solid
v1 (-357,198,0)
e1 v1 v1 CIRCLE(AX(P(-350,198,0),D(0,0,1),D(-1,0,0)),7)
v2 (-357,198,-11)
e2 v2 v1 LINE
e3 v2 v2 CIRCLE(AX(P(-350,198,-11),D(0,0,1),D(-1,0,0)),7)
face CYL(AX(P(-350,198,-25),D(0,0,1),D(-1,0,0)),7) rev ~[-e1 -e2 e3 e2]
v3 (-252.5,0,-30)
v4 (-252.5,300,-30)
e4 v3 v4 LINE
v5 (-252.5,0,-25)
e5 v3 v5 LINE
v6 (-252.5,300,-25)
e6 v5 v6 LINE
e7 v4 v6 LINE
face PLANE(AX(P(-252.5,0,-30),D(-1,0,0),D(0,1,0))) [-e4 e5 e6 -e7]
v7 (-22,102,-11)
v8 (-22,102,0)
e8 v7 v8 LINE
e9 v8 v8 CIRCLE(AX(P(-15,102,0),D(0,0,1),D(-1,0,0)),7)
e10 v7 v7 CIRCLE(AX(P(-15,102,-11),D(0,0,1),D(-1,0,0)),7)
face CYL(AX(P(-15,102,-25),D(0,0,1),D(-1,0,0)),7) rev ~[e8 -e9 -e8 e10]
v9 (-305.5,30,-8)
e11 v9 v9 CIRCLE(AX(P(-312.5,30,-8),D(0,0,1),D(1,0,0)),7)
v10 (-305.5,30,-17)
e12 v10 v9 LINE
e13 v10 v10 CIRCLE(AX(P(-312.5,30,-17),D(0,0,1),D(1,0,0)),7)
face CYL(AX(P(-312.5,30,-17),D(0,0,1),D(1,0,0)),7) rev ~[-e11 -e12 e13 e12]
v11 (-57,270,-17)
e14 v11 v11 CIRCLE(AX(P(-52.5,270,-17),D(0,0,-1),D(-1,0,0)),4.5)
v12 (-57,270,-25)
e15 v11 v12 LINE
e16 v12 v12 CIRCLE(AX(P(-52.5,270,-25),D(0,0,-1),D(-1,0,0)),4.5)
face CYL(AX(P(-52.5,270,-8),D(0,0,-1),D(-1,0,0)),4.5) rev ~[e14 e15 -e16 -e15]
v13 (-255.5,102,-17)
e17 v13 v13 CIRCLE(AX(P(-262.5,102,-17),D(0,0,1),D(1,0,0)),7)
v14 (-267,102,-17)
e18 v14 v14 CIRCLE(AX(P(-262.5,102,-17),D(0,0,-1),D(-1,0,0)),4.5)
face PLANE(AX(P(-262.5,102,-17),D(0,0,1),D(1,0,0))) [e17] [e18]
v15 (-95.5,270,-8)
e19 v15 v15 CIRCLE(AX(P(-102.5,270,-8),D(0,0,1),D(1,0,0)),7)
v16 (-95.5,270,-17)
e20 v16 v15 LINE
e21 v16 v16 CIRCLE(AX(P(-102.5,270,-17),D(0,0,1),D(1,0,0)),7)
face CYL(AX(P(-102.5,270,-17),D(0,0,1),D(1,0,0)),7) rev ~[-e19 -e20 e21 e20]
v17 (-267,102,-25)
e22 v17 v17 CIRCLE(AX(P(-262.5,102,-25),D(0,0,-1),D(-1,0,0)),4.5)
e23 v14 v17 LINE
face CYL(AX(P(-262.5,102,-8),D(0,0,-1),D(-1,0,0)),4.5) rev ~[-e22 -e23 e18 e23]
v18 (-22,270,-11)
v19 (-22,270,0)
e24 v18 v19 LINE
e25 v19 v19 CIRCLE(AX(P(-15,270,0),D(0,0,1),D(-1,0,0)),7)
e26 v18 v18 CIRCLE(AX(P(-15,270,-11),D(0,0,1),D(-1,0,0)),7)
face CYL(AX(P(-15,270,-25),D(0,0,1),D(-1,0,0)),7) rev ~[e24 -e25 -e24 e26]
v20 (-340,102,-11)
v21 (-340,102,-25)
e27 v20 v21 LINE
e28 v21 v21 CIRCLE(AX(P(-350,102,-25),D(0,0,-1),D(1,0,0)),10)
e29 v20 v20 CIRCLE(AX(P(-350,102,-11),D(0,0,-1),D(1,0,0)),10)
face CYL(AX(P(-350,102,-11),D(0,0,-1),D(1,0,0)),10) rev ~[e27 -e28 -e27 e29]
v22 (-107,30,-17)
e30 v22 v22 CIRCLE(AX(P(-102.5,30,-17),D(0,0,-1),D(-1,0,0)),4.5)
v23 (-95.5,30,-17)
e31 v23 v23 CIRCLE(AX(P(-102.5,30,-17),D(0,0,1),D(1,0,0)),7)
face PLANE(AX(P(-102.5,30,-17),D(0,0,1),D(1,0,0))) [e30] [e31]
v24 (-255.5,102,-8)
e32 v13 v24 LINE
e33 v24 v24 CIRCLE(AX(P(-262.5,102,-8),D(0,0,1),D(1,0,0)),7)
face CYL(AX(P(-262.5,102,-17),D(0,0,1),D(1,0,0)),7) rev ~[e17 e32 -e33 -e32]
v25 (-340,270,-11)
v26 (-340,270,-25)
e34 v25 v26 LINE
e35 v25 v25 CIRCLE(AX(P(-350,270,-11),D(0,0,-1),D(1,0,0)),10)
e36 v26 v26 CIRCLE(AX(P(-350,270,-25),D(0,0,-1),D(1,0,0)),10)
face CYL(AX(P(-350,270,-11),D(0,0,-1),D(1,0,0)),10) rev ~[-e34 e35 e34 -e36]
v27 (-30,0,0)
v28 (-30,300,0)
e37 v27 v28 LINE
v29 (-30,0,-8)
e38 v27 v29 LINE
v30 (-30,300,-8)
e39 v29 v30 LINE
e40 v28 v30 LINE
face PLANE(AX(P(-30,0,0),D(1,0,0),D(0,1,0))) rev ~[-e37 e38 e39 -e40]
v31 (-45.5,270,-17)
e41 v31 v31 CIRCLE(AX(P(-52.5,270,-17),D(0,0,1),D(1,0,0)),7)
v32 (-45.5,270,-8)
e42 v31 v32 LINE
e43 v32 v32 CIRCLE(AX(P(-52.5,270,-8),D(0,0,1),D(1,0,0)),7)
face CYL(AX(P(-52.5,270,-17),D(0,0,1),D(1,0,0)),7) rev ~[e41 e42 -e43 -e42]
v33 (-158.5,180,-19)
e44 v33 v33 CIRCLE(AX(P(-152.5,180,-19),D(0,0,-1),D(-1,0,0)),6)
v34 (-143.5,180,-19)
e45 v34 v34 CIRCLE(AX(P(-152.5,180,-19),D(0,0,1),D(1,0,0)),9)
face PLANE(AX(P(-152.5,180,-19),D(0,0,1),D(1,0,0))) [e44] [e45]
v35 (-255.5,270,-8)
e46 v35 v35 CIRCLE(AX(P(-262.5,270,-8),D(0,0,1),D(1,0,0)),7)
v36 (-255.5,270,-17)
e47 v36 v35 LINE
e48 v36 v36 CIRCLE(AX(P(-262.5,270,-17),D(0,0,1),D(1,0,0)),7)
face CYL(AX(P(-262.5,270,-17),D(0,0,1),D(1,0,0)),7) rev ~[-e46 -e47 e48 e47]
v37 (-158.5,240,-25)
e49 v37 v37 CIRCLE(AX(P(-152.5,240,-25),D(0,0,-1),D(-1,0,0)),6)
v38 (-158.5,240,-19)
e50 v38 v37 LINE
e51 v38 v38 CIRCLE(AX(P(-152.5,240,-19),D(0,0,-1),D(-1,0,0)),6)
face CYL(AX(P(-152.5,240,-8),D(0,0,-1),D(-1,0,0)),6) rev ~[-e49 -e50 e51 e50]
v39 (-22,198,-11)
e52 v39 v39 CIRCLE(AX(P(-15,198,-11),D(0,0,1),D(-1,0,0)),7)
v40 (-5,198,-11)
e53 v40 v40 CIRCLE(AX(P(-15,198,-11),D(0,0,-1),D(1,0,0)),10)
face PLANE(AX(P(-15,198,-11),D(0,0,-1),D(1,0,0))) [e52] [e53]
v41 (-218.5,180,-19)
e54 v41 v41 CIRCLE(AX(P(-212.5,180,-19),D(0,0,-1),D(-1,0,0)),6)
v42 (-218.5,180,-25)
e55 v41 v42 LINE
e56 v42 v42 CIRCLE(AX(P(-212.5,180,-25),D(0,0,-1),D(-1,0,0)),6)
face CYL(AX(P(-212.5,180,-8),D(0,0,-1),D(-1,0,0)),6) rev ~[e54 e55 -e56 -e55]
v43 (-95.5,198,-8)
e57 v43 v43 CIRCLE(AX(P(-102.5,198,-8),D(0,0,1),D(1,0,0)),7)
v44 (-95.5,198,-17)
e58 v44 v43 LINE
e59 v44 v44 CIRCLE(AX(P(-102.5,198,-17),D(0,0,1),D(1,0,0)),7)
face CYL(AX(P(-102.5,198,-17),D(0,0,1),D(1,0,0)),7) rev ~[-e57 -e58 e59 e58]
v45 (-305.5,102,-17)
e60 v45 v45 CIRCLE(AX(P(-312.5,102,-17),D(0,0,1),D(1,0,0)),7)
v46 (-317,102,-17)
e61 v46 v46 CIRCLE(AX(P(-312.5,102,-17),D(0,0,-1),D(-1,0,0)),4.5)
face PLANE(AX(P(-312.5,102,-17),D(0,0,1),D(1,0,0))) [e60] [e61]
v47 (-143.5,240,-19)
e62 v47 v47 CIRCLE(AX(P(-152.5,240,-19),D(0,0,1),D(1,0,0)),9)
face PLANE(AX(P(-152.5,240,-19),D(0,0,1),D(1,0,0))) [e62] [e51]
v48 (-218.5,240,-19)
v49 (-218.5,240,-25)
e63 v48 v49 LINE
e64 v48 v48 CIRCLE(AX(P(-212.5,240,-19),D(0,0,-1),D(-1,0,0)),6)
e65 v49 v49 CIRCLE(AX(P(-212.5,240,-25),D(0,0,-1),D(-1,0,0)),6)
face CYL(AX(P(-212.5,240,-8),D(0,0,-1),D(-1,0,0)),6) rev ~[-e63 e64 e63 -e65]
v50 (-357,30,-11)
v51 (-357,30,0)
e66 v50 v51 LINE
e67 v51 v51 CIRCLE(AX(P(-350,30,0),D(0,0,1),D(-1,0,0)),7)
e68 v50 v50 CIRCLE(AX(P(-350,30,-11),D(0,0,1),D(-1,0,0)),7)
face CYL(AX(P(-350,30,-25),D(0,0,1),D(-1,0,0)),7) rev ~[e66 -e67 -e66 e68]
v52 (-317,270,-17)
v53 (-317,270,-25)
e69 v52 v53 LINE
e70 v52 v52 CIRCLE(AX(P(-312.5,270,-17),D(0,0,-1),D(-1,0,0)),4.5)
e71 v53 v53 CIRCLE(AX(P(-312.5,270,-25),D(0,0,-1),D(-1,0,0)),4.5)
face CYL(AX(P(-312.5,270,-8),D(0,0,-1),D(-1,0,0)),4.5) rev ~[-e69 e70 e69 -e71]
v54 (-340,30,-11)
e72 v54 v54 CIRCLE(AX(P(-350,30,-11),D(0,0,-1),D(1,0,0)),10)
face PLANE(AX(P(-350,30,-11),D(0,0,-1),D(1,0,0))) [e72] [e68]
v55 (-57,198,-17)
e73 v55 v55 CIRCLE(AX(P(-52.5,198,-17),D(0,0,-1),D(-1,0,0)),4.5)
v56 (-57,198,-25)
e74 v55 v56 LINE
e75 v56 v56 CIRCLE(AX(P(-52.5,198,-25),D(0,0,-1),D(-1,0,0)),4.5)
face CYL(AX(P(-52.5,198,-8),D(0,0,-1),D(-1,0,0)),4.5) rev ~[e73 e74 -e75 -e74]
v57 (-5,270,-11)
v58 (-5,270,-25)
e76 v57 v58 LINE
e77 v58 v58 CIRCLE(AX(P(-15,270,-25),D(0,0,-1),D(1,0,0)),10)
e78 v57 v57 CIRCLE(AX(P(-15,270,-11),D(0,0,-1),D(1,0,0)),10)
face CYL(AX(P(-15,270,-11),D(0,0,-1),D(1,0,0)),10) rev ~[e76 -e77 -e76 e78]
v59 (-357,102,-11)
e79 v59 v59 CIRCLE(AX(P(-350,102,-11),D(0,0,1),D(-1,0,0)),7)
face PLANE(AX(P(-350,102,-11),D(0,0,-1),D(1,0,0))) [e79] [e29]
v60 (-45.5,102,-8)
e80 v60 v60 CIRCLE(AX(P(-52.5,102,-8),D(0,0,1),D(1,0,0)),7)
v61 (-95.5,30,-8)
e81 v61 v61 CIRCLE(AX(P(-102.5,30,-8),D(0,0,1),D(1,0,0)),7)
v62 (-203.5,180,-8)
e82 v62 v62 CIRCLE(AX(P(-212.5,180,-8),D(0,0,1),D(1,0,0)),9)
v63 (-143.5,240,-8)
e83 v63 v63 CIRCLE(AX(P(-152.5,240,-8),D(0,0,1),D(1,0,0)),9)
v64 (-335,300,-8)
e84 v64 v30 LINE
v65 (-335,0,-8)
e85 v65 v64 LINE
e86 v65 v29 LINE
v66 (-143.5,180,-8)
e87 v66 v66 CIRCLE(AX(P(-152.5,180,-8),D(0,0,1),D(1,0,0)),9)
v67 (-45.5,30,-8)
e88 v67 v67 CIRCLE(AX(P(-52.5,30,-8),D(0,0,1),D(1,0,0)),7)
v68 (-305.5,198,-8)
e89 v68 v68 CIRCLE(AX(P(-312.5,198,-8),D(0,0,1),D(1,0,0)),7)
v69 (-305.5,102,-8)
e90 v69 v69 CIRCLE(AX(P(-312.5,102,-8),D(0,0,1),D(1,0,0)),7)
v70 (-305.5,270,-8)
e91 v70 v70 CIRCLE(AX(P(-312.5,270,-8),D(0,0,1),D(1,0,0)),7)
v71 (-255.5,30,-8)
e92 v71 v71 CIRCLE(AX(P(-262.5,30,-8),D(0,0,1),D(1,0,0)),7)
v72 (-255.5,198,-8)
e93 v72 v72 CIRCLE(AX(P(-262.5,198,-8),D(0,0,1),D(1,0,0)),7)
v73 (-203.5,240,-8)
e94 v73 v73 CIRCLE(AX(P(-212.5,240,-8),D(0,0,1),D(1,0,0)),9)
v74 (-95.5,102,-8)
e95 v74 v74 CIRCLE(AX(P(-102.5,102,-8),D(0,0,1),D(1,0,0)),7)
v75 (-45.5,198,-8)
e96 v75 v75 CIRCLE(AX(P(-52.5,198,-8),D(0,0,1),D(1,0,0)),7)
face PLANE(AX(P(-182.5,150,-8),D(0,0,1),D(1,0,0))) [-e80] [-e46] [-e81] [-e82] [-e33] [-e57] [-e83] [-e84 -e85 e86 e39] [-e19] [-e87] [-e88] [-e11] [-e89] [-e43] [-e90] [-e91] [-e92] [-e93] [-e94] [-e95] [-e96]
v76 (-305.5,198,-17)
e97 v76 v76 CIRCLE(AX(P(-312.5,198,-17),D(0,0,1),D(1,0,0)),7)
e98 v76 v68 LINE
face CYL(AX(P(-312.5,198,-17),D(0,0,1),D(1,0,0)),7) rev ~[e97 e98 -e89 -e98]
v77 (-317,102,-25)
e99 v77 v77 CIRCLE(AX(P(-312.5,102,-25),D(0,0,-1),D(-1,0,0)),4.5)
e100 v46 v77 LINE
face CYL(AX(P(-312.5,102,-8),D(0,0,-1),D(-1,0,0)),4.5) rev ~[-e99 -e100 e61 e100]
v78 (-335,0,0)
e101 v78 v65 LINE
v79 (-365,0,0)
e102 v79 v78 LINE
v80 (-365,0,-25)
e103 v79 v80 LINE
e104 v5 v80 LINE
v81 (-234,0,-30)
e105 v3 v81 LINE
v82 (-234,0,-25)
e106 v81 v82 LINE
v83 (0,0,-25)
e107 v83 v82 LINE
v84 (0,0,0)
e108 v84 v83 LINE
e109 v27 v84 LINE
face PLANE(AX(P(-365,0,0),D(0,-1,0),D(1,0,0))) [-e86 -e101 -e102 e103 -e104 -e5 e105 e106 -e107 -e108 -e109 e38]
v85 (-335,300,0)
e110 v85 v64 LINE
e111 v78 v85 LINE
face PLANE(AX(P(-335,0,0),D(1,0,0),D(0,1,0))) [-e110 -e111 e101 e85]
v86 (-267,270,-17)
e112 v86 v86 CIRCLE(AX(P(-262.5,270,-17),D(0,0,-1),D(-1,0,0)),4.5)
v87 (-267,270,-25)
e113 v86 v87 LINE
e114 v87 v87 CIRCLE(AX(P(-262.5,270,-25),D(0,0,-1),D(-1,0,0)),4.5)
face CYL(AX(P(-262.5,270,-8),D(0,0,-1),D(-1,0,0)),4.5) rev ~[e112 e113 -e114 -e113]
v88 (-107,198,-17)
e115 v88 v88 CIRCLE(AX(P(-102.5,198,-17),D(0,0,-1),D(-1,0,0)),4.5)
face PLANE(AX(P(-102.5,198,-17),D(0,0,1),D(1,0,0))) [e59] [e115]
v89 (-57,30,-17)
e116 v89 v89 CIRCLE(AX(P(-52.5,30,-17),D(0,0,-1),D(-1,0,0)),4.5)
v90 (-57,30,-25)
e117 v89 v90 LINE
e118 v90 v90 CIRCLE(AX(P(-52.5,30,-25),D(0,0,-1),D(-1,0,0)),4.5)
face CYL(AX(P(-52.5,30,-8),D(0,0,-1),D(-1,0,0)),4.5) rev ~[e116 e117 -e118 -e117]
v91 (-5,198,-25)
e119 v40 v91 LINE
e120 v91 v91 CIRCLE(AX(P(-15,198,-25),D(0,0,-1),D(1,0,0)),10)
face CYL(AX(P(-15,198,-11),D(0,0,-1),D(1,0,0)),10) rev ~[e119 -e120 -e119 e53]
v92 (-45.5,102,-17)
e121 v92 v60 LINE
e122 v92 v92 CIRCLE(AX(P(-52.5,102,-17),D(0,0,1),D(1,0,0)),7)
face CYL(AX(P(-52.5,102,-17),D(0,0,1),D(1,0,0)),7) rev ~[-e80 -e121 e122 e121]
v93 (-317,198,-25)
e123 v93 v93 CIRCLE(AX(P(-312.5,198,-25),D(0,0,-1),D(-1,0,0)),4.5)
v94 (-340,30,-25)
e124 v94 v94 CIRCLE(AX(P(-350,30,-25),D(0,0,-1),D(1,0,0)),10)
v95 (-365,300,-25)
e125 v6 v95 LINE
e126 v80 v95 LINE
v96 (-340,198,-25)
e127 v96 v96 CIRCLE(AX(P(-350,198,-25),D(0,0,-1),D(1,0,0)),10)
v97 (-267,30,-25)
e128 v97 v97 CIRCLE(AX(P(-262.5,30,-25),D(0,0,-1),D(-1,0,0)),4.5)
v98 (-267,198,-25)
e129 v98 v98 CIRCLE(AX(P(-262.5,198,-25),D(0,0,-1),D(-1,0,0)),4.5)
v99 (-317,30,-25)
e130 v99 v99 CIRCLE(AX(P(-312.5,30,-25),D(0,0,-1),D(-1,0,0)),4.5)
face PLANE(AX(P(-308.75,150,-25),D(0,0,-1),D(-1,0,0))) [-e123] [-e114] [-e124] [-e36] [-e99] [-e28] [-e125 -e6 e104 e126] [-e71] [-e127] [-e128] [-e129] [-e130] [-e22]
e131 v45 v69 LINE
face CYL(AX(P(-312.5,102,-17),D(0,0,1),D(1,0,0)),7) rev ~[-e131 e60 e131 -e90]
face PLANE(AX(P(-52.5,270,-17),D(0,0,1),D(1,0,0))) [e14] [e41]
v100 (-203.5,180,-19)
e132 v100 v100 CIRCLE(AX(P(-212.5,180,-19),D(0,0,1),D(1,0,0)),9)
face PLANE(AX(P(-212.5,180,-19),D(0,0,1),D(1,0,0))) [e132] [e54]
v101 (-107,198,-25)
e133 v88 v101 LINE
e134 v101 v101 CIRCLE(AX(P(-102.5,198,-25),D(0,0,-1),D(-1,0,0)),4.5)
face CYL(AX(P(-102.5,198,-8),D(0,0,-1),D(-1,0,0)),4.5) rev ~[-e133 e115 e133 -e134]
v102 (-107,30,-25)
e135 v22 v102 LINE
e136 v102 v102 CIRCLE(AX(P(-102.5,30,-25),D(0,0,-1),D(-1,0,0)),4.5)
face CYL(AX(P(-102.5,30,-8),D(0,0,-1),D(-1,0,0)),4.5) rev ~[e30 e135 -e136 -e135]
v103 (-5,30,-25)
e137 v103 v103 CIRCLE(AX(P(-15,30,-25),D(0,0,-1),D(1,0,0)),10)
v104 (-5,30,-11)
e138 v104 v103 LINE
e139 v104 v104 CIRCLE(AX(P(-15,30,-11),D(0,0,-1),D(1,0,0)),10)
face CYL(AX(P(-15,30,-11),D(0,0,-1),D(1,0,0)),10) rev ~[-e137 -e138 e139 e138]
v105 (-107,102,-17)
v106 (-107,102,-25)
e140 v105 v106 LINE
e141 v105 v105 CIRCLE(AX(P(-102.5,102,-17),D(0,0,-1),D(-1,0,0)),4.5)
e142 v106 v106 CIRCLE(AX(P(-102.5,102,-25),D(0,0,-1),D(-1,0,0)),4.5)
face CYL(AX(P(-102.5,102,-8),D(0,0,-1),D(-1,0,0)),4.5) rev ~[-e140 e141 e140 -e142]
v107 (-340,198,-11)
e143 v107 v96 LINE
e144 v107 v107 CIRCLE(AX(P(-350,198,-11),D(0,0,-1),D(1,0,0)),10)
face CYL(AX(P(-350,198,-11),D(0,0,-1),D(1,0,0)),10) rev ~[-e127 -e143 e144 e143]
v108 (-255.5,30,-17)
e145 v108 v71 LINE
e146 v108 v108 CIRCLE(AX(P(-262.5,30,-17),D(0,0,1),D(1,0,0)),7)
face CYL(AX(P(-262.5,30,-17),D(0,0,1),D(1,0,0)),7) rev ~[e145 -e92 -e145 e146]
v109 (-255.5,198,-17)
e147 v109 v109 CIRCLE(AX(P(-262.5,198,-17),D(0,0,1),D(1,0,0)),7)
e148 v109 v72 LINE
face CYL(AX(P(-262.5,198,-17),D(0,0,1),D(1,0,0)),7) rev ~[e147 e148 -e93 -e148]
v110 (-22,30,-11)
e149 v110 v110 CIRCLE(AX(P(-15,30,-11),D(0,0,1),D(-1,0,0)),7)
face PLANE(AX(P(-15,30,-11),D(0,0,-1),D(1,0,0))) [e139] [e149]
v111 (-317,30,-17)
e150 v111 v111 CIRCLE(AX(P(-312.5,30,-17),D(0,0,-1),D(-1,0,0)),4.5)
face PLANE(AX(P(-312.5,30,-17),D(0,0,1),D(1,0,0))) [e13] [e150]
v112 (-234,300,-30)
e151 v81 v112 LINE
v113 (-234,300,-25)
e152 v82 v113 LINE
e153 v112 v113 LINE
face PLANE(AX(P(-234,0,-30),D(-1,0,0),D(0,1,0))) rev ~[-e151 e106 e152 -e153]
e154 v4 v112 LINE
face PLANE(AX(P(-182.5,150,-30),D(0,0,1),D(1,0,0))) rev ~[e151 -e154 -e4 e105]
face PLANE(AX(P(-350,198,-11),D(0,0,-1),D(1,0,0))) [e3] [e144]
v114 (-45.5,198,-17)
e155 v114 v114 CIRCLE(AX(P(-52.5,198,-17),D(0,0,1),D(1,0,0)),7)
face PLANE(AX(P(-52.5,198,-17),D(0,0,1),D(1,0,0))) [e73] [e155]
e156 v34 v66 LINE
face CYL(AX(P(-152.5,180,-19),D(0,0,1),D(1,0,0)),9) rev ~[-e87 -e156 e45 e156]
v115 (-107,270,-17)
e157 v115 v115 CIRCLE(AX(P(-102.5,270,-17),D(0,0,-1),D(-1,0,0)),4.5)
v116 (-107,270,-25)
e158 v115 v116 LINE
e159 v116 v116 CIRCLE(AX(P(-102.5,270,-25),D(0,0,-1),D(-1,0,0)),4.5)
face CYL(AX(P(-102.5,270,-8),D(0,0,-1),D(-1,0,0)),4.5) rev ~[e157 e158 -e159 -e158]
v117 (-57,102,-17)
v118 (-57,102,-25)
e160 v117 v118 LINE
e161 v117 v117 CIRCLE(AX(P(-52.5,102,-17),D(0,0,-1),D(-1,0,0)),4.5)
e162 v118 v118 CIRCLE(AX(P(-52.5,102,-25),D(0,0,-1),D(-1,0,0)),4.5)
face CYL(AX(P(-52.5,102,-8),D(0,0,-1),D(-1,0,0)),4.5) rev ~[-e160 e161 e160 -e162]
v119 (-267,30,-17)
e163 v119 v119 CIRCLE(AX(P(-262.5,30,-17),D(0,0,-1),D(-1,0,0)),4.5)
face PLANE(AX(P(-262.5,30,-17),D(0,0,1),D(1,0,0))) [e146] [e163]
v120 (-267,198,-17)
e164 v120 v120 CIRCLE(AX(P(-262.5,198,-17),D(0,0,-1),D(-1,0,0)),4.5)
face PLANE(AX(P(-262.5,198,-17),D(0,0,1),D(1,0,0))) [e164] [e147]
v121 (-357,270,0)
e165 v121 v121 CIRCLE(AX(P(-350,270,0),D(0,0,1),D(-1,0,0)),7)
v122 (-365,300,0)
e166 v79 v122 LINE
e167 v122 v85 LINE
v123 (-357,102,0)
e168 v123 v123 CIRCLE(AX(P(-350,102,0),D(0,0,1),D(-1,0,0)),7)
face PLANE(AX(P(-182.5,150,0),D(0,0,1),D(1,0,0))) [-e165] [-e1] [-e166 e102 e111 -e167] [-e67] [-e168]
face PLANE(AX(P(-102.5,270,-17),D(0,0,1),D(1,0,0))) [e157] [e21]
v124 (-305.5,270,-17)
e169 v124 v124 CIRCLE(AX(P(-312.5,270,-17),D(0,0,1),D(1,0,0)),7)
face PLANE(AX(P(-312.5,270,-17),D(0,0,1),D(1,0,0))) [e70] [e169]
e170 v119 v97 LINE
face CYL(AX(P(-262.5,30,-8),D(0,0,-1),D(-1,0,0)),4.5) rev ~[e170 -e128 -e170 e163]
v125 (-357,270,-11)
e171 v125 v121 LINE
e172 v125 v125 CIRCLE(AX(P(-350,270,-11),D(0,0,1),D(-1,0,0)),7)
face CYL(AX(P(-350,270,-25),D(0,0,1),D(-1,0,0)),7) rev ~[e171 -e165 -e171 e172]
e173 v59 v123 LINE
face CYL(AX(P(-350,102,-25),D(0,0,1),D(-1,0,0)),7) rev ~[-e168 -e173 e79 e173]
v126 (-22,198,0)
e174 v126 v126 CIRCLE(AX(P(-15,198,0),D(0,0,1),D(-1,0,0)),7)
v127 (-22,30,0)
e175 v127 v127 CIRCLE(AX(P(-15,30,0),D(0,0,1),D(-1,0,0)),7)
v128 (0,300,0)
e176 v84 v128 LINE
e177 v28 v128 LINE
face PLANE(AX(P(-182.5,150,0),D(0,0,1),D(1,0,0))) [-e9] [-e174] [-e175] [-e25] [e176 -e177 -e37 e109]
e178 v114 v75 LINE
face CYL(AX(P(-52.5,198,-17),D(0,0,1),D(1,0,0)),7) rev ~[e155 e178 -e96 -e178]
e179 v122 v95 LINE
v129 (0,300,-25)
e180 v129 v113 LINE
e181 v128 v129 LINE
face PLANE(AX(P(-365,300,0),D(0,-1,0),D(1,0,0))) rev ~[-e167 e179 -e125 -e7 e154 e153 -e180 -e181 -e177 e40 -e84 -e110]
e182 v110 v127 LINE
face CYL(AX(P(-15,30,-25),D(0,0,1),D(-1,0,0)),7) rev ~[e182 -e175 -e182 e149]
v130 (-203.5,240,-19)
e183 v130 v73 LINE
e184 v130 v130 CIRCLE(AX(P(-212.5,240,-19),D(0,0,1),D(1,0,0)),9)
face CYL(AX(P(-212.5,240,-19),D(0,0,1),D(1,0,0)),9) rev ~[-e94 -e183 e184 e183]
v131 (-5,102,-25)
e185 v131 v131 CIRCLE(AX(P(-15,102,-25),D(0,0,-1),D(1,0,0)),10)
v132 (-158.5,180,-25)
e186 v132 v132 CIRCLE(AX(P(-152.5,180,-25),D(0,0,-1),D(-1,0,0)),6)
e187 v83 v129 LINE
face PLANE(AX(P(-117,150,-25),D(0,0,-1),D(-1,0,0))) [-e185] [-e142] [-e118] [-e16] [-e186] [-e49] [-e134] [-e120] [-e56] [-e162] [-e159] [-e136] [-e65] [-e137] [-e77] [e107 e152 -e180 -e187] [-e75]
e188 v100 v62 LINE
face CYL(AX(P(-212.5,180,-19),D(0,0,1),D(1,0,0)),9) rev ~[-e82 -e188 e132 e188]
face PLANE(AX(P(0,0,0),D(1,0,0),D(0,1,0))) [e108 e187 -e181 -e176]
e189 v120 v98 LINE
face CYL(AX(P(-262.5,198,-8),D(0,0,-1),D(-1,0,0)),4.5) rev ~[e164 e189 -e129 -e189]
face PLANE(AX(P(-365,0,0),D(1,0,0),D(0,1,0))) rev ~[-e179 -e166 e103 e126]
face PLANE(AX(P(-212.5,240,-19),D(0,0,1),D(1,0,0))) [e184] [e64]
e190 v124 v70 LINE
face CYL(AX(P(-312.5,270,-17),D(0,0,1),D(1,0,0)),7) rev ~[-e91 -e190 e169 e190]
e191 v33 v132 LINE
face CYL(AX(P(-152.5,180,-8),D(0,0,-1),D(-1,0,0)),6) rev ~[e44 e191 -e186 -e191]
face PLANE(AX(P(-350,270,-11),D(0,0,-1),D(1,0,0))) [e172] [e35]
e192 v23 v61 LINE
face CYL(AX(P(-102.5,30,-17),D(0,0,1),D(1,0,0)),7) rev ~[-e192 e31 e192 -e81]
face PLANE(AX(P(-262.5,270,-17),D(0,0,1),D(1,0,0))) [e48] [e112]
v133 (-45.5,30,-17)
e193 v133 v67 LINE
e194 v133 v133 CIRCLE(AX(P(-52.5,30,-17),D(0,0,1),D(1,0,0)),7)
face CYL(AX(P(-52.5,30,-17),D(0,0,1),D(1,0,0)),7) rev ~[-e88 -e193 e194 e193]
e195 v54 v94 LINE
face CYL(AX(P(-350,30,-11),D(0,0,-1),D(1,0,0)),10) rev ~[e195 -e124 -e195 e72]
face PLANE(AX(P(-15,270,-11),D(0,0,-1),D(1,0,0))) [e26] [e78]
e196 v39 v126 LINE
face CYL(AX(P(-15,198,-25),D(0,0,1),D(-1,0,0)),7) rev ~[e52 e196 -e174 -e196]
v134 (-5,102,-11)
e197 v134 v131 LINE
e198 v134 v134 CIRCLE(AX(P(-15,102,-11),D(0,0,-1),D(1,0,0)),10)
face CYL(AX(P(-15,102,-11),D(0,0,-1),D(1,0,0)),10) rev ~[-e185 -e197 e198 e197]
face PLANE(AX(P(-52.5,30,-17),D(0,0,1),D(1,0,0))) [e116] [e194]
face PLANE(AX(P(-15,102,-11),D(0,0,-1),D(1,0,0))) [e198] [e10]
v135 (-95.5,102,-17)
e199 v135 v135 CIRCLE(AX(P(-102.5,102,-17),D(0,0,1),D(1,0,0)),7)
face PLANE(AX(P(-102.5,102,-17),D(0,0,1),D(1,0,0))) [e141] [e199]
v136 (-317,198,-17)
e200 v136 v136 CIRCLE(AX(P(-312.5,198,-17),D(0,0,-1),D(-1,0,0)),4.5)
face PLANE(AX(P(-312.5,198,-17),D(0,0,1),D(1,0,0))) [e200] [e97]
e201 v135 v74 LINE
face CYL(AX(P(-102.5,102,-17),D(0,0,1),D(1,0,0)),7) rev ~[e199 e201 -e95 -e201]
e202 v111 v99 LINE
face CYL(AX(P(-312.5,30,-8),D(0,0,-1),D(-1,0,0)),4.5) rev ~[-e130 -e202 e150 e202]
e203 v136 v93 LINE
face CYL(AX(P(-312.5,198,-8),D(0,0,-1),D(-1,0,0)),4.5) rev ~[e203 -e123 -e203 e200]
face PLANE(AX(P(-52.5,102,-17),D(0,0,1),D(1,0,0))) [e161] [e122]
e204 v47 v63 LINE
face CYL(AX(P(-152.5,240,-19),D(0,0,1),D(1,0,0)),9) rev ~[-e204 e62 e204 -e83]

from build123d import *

# Parameters (mm, degrees)
SKETCH1_W                                        = 365
SKETCH1_H                                        = 300
BOSS_EXTRUDE1_DEPTH                              = 30
SKETCH2_W                                        = 234
SKETCH2_H                                        = 300
SKETCH2_W_2                                      = 112.5
CUT_EXTRUDE1_DEPTH                               = 5
SKETCH3_W                                        = 305
SKETCH3_H                                        = 300
CUT_EXTRUDE2_DEPTH                               = 8
CBORE_FOR_M12_SOCKET_HEAD_CAP_SCREW1_D           = 14
CBORE_FOR_M12_SOCKET_HEAD_CAP_SCREW1_CBORE_D     = 20
CBORE_FOR_M12_SOCKET_HEAD_CAP_SCREW1_CBORE_DEPTH = 14
LPATTERN1_COUNT                                  = 2
LPATTERN1_PITCH                                  = 335
CBORE_FOR_M8_SOCKET_HEAD_CAP_SCREW1_D            = 9
CBORE_FOR_M8_SOCKET_HEAD_CAP_SCREW1_CBORE_D      = 14
CBORE_FOR_M8_SOCKET_HEAD_CAP_SCREW1_CBORE_DEPTH  = 9
LPATTERN2_COUNT                                  = 2
LPATTERN2_PITCH                                  = 210
LPATTERN2_COUNT_DIR2                             = 2
LPATTERN2_PITCH_DIR2                             = 168
CBORE_FOR_M10_SOCKET_HEAD_CAP_SCREW1_D           = 12
CBORE_FOR_M10_SOCKET_HEAD_CAP_SCREW1_CBORE_D     = 18
CBORE_FOR_M10_SOCKET_HEAD_CAP_SCREW1_CBORE_DEPTH = 11


with BuildPart() as part:
    # Sketch1 → Boss-Extrude1 (new body)
    with BuildSketch(Plane.XY):
        with Locations((-182.5, 150)):
            Rectangle(SKETCH1_W, SKETCH1_H)
    extrude(amount=-BOSS_EXTRUDE1_DEPTH)

    # Sketch2 → Cut-Extrude1 (cut)
    with BuildSketch(Plane(origin=(0, 0, -30), x_dir=(-1, 0, 0), z_dir=(0, 0, -1))):
        with Locations((117, 150)):
            Rectangle(SKETCH2_W, SKETCH2_H)
        with Locations((308.75, 150)):
            Rectangle(SKETCH2_W_2, SKETCH2_H)
    extrude(amount=-CUT_EXTRUDE1_DEPTH, mode=Mode.SUBTRACT)

    # Sketch3 → Cut-Extrude2 (cut)
    with BuildSketch(Plane.XY):
        with Locations((-182.5, 150)):
            Rectangle(SKETCH3_W, SKETCH3_H)
    extrude(amount=-CUT_EXTRUDE2_DEPTH, mode=Mode.SUBTRACT)

    # CBORE for M12 Socket Head Cap Screw1 (through all)
    with Locations(Plane(origin=(-5.933420532, 68.021379898, -25), x_dir=(1, 0, 0), z_dir=(0, 0, -1))):
        with Locations((-9.066579468, -201.978620102), (-9.066579468, -129.978620102), (-9.066579468, -33.978620102), (-9.066579468, 38.021379898)):
            cbore_for_m12_socket_head_cap_screw1 = CounterBoreHole(CBORE_FOR_M12_SOCKET_HEAD_CAP_SCREW1_D / 2, CBORE_FOR_M12_SOCKET_HEAD_CAP_SCREW1_CBORE_D / 2, CBORE_FOR_M12_SOCKET_HEAD_CAP_SCREW1_CBORE_DEPTH)

    # LPattern1: CBORE for M12 Socket Head Cap Screw1 ×2
    with Locations(*[(-i * LPATTERN1_PITCH, 0, 0) for i in range(1, LPATTERN1_COUNT)]):
        add(cbore_for_m12_socket_head_cap_screw1, mode=Mode.SUBTRACT)

    # CBORE for M8 Socket Head Cap Screw1 (through all)
    with Locations(Plane.XY.offset(-8)):
        with Locations((-52.5, 30), (-52.5, 102), (-102.5, 102), (-102.5, 30)):
            cbore_for_m8_socket_head_cap_screw1 = CounterBoreHole(CBORE_FOR_M8_SOCKET_HEAD_CAP_SCREW1_D / 2, CBORE_FOR_M8_SOCKET_HEAD_CAP_SCREW1_CBORE_D / 2, CBORE_FOR_M8_SOCKET_HEAD_CAP_SCREW1_CBORE_DEPTH)

    # LPattern2: CBORE for M8 Socket Head Cap Screw1 2 × 2
    with Locations(*[(-i * LPATTERN2_PITCH, j * LPATTERN2_PITCH_DIR2, 0) for i in range(LPATTERN2_COUNT) for j in range(LPATTERN2_COUNT_DIR2) if (i, j) != (0, 0)]):
        add(cbore_for_m8_socket_head_cap_screw1, mode=Mode.SUBTRACT)

    # CBORE for M10 Socket Head Cap Screw1 (through all)
    with Locations(Plane.XY.offset(-8)):
        with Locations((-152.5, 240), (-152.5, 180), (-212.5, 180), (-212.5, 240)):
            CounterBoreHole(CBORE_FOR_M10_SOCKET_HEAD_CAP_SCREW1_D / 2, CBORE_FOR_M10_SOCKET_HEAD_CAP_SCREW1_CBORE_D / 2, CBORE_FOR_M10_SOCKET_HEAD_CAP_SCREW1_CBORE_DEPTH)


solid = part.part
